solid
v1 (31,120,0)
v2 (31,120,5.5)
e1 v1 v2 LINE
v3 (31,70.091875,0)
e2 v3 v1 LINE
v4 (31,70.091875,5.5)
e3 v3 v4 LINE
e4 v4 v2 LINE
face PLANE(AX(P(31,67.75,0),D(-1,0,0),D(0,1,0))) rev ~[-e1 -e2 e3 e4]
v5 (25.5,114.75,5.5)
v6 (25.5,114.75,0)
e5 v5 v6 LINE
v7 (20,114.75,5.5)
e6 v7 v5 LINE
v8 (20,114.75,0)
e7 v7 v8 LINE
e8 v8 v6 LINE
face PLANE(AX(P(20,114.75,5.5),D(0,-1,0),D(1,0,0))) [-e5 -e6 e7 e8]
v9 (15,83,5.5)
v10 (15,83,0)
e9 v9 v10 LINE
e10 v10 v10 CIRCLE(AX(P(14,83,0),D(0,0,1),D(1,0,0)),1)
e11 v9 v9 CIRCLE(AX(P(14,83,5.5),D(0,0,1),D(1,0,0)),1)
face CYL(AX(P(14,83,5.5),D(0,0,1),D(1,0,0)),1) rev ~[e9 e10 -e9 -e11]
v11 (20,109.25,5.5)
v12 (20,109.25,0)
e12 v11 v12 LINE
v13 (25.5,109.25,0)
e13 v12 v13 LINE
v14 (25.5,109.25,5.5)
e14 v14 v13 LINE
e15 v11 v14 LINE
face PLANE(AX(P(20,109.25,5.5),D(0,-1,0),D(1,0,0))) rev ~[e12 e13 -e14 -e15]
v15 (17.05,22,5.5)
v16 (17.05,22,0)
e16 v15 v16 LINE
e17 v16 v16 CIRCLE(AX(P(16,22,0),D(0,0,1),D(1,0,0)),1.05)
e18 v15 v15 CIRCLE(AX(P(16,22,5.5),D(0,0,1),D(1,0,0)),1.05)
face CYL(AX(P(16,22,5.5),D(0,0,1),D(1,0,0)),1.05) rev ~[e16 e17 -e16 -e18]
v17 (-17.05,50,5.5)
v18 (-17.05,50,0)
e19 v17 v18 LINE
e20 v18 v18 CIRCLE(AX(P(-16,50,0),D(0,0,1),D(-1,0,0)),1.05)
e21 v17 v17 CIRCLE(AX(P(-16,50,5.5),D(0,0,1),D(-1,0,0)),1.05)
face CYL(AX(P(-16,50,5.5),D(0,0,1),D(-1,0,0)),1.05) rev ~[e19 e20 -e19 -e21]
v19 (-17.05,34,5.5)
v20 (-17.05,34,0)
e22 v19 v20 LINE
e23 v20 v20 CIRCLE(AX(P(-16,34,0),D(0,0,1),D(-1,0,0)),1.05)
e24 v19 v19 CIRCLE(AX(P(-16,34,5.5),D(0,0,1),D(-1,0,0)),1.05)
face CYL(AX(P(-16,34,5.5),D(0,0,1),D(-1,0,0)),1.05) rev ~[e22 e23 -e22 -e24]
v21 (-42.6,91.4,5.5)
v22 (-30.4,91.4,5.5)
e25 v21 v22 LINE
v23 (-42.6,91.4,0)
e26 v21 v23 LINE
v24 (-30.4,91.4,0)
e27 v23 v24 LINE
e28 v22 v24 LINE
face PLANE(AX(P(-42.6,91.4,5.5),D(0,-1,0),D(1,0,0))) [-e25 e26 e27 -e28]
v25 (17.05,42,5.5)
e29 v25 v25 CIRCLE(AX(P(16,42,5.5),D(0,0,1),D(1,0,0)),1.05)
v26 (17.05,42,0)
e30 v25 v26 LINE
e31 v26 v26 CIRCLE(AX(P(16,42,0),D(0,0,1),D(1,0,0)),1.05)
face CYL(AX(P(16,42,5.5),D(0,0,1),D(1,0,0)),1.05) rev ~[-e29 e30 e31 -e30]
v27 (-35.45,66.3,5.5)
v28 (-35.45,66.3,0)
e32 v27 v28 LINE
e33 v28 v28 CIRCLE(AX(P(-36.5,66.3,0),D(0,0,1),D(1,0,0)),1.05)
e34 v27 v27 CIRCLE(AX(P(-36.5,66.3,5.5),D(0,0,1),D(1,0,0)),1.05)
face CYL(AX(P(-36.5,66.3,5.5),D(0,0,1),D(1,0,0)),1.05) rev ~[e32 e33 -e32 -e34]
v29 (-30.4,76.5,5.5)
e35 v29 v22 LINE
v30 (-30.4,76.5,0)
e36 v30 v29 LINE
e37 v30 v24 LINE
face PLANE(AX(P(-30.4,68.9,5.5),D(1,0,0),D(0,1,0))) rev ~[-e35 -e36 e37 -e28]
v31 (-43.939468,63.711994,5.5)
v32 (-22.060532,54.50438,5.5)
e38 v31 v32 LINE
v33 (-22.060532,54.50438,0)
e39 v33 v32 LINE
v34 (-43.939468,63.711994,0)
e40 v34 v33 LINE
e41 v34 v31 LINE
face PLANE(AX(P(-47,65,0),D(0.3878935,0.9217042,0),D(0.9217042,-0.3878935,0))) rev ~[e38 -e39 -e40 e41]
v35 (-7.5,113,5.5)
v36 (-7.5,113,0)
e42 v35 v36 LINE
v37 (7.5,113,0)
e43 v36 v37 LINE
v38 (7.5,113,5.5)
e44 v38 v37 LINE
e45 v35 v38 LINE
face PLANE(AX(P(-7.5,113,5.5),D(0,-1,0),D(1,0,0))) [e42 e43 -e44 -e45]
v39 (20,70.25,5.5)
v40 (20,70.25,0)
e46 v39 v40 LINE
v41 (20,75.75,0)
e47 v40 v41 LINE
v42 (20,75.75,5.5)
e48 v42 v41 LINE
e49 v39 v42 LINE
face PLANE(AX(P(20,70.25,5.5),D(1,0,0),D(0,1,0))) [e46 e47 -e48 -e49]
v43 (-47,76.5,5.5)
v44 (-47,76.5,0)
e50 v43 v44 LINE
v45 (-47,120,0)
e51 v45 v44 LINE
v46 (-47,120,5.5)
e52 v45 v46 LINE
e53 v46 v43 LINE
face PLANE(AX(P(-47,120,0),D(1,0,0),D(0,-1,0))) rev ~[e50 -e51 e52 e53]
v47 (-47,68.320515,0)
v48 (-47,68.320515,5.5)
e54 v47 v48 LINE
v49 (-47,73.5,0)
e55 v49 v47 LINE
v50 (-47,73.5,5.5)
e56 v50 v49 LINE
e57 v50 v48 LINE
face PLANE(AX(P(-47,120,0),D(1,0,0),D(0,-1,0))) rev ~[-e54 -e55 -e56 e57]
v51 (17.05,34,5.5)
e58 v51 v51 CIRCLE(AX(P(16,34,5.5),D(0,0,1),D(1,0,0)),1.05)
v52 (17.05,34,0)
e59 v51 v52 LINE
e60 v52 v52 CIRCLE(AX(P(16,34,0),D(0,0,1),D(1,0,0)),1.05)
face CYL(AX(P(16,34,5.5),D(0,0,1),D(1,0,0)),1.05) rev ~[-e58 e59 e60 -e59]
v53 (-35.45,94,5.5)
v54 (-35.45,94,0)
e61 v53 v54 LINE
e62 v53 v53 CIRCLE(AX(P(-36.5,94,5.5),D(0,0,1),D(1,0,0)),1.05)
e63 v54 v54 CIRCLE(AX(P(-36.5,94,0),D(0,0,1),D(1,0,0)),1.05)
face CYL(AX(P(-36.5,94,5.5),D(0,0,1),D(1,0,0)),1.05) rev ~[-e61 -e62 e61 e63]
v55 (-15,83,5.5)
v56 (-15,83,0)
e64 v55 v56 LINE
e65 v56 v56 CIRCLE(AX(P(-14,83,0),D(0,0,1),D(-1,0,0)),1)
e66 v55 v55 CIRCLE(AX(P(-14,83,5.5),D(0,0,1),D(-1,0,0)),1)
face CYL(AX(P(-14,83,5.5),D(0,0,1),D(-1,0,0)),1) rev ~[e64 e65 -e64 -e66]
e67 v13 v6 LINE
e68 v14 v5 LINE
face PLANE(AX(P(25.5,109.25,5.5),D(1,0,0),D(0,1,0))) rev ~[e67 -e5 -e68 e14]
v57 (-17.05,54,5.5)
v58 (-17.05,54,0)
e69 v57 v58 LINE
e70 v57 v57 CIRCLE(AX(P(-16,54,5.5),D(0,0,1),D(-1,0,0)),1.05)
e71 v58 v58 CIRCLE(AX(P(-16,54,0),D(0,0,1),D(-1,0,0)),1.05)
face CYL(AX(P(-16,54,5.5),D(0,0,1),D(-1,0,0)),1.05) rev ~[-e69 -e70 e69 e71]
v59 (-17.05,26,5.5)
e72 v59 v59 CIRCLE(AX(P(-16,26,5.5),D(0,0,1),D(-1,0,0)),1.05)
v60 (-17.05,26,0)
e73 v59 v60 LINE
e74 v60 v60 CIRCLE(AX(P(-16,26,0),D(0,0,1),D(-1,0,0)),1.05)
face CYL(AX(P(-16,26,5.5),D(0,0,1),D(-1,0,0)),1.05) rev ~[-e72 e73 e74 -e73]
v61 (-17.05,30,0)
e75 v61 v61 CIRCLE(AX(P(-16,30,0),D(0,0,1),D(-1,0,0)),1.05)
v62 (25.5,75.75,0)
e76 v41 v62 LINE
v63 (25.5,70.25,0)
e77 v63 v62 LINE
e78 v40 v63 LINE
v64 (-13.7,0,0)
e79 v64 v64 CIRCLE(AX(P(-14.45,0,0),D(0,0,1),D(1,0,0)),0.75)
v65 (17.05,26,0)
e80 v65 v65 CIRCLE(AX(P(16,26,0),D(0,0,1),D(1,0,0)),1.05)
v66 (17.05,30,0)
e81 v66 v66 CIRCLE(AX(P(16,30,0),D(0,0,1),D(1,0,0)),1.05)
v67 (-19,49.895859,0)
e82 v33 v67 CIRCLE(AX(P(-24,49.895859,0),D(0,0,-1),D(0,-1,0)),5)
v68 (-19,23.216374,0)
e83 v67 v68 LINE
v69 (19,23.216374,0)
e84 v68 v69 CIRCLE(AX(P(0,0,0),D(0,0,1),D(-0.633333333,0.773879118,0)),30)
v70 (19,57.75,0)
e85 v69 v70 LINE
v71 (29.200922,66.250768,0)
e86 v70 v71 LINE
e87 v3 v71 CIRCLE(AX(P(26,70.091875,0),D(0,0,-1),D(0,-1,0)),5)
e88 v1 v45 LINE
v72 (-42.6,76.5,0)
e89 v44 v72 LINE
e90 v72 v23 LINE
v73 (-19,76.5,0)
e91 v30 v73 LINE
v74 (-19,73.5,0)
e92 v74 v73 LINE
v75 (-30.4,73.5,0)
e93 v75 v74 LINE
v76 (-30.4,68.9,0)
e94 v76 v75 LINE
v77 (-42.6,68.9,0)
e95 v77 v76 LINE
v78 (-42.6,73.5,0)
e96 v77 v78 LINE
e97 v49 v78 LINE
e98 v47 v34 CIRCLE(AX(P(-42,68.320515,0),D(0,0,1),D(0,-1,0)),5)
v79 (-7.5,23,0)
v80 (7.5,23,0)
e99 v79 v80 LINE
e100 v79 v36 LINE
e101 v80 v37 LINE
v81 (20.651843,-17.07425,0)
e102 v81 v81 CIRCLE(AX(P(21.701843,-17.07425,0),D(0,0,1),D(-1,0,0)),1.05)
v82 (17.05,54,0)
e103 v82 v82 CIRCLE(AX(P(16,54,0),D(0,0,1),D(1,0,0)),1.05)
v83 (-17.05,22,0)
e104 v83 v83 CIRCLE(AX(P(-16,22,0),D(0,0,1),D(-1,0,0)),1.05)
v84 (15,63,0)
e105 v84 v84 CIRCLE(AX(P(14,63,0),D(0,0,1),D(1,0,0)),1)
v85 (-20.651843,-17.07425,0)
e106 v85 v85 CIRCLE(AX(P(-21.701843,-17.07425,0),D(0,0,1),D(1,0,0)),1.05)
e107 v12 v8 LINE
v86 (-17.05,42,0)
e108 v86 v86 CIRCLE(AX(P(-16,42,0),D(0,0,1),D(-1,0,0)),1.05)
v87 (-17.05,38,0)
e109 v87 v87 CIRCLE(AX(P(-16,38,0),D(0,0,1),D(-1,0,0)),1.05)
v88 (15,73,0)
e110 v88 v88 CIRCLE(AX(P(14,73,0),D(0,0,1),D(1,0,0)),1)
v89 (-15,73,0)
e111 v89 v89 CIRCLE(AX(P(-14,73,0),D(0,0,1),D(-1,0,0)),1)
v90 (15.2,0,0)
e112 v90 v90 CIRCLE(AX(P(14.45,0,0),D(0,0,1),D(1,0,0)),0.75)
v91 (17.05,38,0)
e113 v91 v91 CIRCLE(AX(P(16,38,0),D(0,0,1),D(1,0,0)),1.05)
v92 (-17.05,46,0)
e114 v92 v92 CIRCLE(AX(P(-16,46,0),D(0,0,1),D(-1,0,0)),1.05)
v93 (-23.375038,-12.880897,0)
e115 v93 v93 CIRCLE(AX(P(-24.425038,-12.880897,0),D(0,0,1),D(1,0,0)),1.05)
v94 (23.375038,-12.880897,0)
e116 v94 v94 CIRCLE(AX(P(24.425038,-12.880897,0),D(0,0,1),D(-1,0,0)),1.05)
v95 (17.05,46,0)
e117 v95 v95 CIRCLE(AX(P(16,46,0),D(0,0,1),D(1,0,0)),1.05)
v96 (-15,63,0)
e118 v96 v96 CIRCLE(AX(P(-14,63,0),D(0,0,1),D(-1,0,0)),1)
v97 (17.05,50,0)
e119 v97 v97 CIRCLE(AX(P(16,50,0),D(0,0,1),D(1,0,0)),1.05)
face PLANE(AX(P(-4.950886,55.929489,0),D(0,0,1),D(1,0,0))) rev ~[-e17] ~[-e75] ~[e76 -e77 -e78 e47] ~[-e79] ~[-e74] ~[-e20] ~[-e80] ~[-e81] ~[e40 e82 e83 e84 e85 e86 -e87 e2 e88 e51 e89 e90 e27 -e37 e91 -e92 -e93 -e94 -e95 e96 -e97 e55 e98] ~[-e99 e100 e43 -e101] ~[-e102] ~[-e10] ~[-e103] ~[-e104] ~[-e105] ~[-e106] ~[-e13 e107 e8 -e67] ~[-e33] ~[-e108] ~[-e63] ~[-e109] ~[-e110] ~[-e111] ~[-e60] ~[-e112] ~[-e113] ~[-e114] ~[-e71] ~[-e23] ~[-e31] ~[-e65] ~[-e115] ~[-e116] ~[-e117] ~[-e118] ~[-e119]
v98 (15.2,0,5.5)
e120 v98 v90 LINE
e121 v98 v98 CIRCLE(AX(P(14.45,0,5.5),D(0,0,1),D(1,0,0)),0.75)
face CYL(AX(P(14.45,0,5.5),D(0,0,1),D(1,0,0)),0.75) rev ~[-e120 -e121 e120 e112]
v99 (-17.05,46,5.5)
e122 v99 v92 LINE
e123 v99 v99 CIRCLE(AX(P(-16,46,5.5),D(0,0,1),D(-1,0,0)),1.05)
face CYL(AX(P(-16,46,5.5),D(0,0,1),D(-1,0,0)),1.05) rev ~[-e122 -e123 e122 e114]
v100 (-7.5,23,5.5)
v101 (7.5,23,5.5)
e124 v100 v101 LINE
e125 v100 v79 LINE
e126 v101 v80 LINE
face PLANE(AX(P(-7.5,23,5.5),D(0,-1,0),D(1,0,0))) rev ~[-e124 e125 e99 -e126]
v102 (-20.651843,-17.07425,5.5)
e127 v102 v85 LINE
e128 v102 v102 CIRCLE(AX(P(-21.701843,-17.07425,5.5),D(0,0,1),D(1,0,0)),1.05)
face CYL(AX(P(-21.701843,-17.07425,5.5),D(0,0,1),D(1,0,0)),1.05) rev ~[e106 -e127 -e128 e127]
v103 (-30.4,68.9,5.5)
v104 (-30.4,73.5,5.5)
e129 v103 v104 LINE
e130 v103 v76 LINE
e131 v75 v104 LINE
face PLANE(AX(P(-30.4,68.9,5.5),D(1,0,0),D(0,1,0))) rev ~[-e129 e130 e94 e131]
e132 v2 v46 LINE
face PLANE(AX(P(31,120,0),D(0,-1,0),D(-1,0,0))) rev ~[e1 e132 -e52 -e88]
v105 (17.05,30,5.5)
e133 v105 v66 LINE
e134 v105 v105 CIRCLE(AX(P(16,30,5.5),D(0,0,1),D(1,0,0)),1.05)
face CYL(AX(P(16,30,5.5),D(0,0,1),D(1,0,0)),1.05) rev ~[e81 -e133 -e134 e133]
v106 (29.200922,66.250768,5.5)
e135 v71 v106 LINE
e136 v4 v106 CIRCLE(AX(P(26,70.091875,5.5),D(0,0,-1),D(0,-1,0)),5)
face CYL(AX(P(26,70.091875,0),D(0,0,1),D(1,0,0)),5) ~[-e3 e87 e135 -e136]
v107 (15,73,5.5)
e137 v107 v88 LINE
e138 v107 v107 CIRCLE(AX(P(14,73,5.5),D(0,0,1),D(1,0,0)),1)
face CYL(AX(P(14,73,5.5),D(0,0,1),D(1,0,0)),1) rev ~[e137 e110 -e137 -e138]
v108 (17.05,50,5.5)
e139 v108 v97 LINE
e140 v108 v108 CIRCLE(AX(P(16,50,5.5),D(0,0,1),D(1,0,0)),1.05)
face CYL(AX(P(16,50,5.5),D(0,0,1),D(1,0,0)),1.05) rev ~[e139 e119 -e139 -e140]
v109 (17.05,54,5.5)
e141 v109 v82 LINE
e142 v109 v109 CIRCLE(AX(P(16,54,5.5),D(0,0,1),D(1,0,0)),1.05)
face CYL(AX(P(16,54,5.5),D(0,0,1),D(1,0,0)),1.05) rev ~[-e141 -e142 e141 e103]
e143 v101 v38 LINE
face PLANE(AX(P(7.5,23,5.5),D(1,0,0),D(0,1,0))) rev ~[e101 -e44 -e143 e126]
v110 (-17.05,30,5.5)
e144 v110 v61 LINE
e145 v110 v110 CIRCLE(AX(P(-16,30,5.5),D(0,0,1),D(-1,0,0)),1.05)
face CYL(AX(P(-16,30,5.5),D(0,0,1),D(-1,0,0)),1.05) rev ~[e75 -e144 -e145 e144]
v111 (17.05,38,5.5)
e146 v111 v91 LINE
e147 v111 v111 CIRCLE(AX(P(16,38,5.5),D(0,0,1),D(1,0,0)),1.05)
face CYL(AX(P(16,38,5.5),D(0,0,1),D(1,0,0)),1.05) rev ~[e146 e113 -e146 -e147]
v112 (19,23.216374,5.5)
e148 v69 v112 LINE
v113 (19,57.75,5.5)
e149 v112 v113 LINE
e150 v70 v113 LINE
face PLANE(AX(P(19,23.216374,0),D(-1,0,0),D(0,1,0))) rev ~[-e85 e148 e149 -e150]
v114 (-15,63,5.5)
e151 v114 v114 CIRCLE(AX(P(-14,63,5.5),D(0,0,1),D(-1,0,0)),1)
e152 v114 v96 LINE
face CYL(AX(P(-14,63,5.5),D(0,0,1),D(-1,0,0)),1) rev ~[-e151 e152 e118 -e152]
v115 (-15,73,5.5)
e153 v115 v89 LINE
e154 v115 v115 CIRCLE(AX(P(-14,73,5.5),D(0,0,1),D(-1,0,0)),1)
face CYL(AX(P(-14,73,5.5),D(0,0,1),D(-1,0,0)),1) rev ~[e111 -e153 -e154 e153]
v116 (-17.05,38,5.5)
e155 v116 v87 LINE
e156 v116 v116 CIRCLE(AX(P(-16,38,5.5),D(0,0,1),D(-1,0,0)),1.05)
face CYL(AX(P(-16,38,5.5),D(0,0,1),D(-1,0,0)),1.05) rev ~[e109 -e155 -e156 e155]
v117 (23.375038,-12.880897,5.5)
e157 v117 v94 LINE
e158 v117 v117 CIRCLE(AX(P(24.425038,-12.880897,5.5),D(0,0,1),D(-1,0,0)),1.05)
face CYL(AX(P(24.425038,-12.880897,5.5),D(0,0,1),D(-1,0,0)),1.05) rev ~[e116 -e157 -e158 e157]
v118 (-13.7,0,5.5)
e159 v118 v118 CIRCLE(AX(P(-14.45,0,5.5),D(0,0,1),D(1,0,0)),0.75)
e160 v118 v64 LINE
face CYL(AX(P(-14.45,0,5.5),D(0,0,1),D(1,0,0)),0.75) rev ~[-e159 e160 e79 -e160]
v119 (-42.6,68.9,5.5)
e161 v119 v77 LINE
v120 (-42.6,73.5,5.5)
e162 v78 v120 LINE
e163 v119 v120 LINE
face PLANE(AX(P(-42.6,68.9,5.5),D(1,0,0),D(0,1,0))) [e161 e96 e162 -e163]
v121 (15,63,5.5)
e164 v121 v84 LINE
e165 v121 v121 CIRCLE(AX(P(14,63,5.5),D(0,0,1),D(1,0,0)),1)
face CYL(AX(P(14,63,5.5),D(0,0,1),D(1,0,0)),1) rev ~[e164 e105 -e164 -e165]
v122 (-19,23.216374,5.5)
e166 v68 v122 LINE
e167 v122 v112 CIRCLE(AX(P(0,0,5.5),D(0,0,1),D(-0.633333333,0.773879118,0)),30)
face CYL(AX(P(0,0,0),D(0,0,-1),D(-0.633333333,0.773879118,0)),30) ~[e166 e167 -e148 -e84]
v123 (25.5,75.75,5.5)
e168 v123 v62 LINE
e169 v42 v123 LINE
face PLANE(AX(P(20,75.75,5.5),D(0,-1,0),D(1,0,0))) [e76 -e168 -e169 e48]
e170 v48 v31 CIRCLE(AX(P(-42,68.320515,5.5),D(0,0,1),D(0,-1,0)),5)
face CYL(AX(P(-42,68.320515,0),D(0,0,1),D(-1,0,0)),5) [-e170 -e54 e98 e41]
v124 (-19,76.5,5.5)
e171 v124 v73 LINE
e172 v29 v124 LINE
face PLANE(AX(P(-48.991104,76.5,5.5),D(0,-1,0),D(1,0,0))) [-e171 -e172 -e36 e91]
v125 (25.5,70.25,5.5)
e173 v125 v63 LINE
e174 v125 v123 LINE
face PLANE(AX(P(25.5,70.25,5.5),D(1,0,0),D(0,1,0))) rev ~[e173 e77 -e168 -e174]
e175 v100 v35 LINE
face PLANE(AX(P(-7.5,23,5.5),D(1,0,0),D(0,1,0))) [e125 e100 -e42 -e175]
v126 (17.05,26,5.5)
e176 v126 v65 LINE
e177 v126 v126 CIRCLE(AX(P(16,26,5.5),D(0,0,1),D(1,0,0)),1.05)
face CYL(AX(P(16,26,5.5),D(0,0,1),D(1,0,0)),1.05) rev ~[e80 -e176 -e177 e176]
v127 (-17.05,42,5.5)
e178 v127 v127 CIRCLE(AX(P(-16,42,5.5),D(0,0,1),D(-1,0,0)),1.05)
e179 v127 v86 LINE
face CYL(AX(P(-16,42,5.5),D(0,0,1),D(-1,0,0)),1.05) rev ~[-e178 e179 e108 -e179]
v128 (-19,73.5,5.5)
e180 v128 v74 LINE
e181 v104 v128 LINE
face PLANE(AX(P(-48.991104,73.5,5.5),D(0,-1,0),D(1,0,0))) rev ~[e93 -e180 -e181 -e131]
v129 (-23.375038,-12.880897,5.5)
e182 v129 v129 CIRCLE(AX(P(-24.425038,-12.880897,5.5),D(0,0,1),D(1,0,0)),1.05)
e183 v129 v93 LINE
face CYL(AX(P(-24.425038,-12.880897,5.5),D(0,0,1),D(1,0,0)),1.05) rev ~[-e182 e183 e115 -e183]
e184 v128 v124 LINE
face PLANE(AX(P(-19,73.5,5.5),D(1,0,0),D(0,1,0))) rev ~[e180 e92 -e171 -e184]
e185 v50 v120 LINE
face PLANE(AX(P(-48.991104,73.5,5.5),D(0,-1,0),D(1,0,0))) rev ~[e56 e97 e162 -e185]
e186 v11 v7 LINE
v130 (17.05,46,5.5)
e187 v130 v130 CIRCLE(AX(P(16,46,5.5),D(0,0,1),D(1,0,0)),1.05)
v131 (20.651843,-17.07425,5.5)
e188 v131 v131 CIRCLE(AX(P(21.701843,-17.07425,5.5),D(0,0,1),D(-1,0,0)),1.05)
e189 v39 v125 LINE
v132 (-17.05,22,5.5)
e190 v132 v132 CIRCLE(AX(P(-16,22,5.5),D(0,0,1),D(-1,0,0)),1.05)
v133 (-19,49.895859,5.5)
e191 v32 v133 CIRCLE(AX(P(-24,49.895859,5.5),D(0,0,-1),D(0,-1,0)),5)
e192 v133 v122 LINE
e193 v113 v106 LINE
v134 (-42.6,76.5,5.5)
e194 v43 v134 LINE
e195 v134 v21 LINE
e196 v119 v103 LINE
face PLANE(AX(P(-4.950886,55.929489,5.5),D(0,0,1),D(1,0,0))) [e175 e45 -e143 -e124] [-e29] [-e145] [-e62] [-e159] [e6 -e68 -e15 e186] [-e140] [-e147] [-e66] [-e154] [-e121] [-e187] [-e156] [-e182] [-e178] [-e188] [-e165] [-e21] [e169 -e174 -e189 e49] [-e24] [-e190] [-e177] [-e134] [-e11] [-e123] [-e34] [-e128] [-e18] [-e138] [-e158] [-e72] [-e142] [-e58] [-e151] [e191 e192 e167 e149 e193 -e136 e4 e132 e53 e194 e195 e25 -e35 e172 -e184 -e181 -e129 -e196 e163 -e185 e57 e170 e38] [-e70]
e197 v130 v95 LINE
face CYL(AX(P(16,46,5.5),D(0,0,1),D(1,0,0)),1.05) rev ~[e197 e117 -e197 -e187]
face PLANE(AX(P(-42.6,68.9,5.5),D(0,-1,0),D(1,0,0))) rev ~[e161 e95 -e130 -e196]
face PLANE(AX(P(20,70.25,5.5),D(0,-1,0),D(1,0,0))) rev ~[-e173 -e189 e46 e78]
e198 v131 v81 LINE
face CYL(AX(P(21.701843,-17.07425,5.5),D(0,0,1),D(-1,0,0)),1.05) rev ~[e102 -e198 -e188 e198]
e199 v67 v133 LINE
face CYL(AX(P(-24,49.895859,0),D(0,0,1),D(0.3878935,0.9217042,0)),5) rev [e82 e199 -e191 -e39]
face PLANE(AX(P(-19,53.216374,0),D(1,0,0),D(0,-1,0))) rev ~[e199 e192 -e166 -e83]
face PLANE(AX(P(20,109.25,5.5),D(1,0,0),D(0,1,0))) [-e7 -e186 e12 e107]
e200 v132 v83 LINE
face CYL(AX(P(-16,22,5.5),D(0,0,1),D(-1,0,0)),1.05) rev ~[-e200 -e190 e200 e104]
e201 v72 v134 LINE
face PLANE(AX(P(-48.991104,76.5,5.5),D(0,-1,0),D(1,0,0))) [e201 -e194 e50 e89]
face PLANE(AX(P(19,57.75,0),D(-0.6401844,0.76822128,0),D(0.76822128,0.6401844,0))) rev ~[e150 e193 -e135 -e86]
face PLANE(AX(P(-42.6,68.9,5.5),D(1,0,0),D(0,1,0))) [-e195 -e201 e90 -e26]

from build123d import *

# Parameters (mm, degrees)
EXTRUDE_1_DEPTH     = 5.5
SKETCH_4_R          = 1
SKETCH_4_W          = 5.5
SKETCH_4_H          = 5.5
CUT_EXTRUDE_2_DEPTH = 129.993216876
FILLET_1_R          = 5
FILLET_2_R          = 5
SKETCH_5_R          = 0.75
CUT_EXTRUDE_3_DEPTH = 129.993216876
SKETCH_6_R          = 1.05
CUT_EXTRUDE_4_DEPTH = 129.993216876
SKETCH_7_W          = 15
SKETCH_7_H          = 90
CUT_EXTRUDE_5_DEPTH = 129.993216876
SKETCH_8_W          = 29.991103618
SKETCH_8_H          = 3
CUT_EXTRUDE_6_DEPTH = 129.993216876
SKETCH_9_R          = 1.05
SKETCH_9_W          = 12.2
SKETCH_9_H          = 22.5
CUT_EXTRUDE_7_DEPTH = 129.993216876
FILLET_3_R          = 5
SKETCH_10_R         = 1.05
CUT_EXTRUDE_8_DEPTH = 129.993216876


with BuildPart() as part:
    # ｽｹｯﾁ1 → ﾎﾞｽ - 押し出し1 (new body)
    with BuildSketch(Plane.XY):
        with BuildLine():
            Line((31, 120), (-47, 120))
            Line((-47, 120), (-47, 65))
            Line((-47, 65), (-19, 53.216373532))
            Line((-19, 53.216373532), (-19, 23.216373532))
            ThreePointArc((-19, 23.216373532), (0, -30), (19, 23.216373532))
            Line((19, 23.216373532), (19, 57.75))
            Line((19, 57.75), (31, 67.75))
            Line((31, 67.75), (31, 120))
        make_face()
    extrude(amount=EXTRUDE_1_DEPTH)

    # ｽｹｯﾁ4 → ｶｯﾄ - 押し出し2 (cut, through all)
    with BuildSketch(Plane.XY.offset(5.5)):
        with Locations((14, 63)):
            Circle(SKETCH_4_R)
        with Locations((14, 83)):
            Circle(SKETCH_4_R)
        with Locations((14, 73)):
            Circle(SKETCH_4_R)
        with Locations(Location((-14, 83, 0), (0, 0, 180))):
            Circle(SKETCH_4_R)
        with Locations(Location((-14, 73, 0), (0, 0, 180))):
            Circle(SKETCH_4_R)
        with Locations(Location((-14, 63, 0), (0, 0, 180))):
            Circle(SKETCH_4_R)
        with Locations((22.75, 112)):
            Rectangle(SKETCH_4_W, SKETCH_4_H)
        with Locations((22.75, 73)):
            Rectangle(SKETCH_4_W, SKETCH_4_H)
    extrude(amount=-CUT_EXTRUDE_2_DEPTH, mode=Mode.SUBTRACT)

    # ﾌｨﾚｯﾄ1
    fillet_1_edges = [part.edges().sort_by_distance(p)[0] for p in [
        (-47, 65, 2.75),
    ]]
    fillet(fillet_1_edges, radius=FILLET_1_R)

    # ﾌｨﾚｯﾄ2
    fillet_2_edges = [part.edges().sort_by_distance(p)[0] for p in [
        (-19, 53.216373532, 2.75),
    ]]
    fillet(fillet_2_edges, radius=FILLET_2_R)

    # ｽｹｯﾁ5 → ｶｯﾄ - 押し出し3 (cut, through all)
    with BuildSketch(Plane.XY.offset(5.5)):
        with Locations((14.45, 0)):
            Circle(SKETCH_5_R)
        with Locations((-14.45, 0)):
            Circle(SKETCH_5_R)
    extrude(amount=-CUT_EXTRUDE_3_DEPTH, mode=Mode.SUBTRACT)

    # ｽｹｯﾁ6 → ｶｯﾄ - 押し出し4 (cut, through all)
    with BuildSketch(Plane.XY.offset(5.5)):
        with Locations((-24.425038206, -12.880897043)):
            Circle(SKETCH_6_R)
        with Locations((-21.701843031, -17.074249883)):
            Circle(SKETCH_6_R)
        with Locations(Location((24.425038206, -12.880897043, 0), (0, 0, 180))):
            Circle(SKETCH_6_R)
        with Locations(Location((21.701843031, -17.074249883, 0), (0, 0, 180))):
            Circle(SKETCH_6_R)
    extrude(amount=-CUT_EXTRUDE_4_DEPTH, mode=Mode.SUBTRACT)

    # ｽｹｯﾁ7 → ｶｯﾄ - 押し出し5 (cut, through all)
    with BuildSketch(Plane.XY.offset(5.5)):
        with Locations((0, 68)):
            Rectangle(SKETCH_7_W, SKETCH_7_H)
    extrude(amount=-CUT_EXTRUDE_5_DEPTH, mode=Mode.SUBTRACT)

    # ｽｹｯﾁ8 → ｶｯﾄ - 押し出し6 (cut, through all)
    with BuildSketch(Plane.XY.offset(5.5)):
        with Locations((-33.995551809, 75)):
            Rectangle(SKETCH_8_W, SKETCH_8_H)
    extrude(amount=-CUT_EXTRUDE_6_DEPTH, mode=Mode.SUBTRACT)

    # ｽｹｯﾁ9 → ｶｯﾄ - 押し出し7 (cut, through all)
    with BuildSketch(Plane.XY.offset(5.5)):
        with Locations((-36.5, 66.3)):
            Circle(SKETCH_9_R)
        with Locations((-36.5, 94)):
            Circle(SKETCH_9_R)
        with Locations((-36.5, 80.15)):
            Rectangle(SKETCH_9_W, SKETCH_9_H)
    extrude(amount=-CUT_EXTRUDE_7_DEPTH, mode=Mode.SUBTRACT)

    # ﾌｨﾚｯﾄ3
    fillet_3_edges = [part.edges().sort_by_distance(p)[0] for p in [
        (31, 67.75, 2.75),
    ]]
    fillet(fillet_3_edges, radius=FILLET_3_R)

    # ｽｹｯﾁ10 → ｶｯﾄ - 押し出し8 (cut, through all)
    with BuildSketch(Plane.XY.offset(5.5)):
        with Locations((16, 22)):
            Circle(SKETCH_10_R)
        with Locations((16, 26)):
            Circle(SKETCH_10_R)
        with Locations((16, 30)):
            Circle(SKETCH_10_R)
        with Locations((16, 34)):
            Circle(SKETCH_10_R)
        with Locations((16, 38)):
            Circle(SKETCH_10_R)
        with Locations((16, 42)):
            Circle(SKETCH_10_R)
        with Locations((16, 46)):
            Circle(SKETCH_10_R)
        with Locations((16, 50)):
            Circle(SKETCH_10_R)
        with Locations(Location((-16, 50, 0), (0, 0, 180))):
            Circle(SKETCH_10_R)
        with Locations(Location((-16, 46, 0), (0, 0, 180))):
            Circle(SKETCH_10_R)
        with Locations(Location((-16, 42, 0), (0, 0, 180))):
            Circle(SKETCH_10_R)
        with Locations(Location((-16, 38, 0), (0, 0, 180))):
            Circle(SKETCH_10_R)
        with Locations(Location((-16, 34, 0), (0, 0, 180))):
            Circle(SKETCH_10_R)
        with Locations(Location((-16, 30, 0), (0, 0, 180))):
            Circle(SKETCH_10_R)
        with Locations(Location((-16, 26, 0), (0, 0, 180))):
            Circle(SKETCH_10_R)
        with Locations(Location((-16, 22, 0), (0, 0, 180))):
            Circle(SKETCH_10_R)
        with Locations((16, 54)):
            Circle(SKETCH_10_R)
        with Locations(Location((-16, 54, 0), (0, 0, 180))):
            Circle(SKETCH_10_R)
    extrude(amount=-CUT_EXTRUDE_8_DEPTH, mode=Mode.SUBTRACT)


solid = part.part
